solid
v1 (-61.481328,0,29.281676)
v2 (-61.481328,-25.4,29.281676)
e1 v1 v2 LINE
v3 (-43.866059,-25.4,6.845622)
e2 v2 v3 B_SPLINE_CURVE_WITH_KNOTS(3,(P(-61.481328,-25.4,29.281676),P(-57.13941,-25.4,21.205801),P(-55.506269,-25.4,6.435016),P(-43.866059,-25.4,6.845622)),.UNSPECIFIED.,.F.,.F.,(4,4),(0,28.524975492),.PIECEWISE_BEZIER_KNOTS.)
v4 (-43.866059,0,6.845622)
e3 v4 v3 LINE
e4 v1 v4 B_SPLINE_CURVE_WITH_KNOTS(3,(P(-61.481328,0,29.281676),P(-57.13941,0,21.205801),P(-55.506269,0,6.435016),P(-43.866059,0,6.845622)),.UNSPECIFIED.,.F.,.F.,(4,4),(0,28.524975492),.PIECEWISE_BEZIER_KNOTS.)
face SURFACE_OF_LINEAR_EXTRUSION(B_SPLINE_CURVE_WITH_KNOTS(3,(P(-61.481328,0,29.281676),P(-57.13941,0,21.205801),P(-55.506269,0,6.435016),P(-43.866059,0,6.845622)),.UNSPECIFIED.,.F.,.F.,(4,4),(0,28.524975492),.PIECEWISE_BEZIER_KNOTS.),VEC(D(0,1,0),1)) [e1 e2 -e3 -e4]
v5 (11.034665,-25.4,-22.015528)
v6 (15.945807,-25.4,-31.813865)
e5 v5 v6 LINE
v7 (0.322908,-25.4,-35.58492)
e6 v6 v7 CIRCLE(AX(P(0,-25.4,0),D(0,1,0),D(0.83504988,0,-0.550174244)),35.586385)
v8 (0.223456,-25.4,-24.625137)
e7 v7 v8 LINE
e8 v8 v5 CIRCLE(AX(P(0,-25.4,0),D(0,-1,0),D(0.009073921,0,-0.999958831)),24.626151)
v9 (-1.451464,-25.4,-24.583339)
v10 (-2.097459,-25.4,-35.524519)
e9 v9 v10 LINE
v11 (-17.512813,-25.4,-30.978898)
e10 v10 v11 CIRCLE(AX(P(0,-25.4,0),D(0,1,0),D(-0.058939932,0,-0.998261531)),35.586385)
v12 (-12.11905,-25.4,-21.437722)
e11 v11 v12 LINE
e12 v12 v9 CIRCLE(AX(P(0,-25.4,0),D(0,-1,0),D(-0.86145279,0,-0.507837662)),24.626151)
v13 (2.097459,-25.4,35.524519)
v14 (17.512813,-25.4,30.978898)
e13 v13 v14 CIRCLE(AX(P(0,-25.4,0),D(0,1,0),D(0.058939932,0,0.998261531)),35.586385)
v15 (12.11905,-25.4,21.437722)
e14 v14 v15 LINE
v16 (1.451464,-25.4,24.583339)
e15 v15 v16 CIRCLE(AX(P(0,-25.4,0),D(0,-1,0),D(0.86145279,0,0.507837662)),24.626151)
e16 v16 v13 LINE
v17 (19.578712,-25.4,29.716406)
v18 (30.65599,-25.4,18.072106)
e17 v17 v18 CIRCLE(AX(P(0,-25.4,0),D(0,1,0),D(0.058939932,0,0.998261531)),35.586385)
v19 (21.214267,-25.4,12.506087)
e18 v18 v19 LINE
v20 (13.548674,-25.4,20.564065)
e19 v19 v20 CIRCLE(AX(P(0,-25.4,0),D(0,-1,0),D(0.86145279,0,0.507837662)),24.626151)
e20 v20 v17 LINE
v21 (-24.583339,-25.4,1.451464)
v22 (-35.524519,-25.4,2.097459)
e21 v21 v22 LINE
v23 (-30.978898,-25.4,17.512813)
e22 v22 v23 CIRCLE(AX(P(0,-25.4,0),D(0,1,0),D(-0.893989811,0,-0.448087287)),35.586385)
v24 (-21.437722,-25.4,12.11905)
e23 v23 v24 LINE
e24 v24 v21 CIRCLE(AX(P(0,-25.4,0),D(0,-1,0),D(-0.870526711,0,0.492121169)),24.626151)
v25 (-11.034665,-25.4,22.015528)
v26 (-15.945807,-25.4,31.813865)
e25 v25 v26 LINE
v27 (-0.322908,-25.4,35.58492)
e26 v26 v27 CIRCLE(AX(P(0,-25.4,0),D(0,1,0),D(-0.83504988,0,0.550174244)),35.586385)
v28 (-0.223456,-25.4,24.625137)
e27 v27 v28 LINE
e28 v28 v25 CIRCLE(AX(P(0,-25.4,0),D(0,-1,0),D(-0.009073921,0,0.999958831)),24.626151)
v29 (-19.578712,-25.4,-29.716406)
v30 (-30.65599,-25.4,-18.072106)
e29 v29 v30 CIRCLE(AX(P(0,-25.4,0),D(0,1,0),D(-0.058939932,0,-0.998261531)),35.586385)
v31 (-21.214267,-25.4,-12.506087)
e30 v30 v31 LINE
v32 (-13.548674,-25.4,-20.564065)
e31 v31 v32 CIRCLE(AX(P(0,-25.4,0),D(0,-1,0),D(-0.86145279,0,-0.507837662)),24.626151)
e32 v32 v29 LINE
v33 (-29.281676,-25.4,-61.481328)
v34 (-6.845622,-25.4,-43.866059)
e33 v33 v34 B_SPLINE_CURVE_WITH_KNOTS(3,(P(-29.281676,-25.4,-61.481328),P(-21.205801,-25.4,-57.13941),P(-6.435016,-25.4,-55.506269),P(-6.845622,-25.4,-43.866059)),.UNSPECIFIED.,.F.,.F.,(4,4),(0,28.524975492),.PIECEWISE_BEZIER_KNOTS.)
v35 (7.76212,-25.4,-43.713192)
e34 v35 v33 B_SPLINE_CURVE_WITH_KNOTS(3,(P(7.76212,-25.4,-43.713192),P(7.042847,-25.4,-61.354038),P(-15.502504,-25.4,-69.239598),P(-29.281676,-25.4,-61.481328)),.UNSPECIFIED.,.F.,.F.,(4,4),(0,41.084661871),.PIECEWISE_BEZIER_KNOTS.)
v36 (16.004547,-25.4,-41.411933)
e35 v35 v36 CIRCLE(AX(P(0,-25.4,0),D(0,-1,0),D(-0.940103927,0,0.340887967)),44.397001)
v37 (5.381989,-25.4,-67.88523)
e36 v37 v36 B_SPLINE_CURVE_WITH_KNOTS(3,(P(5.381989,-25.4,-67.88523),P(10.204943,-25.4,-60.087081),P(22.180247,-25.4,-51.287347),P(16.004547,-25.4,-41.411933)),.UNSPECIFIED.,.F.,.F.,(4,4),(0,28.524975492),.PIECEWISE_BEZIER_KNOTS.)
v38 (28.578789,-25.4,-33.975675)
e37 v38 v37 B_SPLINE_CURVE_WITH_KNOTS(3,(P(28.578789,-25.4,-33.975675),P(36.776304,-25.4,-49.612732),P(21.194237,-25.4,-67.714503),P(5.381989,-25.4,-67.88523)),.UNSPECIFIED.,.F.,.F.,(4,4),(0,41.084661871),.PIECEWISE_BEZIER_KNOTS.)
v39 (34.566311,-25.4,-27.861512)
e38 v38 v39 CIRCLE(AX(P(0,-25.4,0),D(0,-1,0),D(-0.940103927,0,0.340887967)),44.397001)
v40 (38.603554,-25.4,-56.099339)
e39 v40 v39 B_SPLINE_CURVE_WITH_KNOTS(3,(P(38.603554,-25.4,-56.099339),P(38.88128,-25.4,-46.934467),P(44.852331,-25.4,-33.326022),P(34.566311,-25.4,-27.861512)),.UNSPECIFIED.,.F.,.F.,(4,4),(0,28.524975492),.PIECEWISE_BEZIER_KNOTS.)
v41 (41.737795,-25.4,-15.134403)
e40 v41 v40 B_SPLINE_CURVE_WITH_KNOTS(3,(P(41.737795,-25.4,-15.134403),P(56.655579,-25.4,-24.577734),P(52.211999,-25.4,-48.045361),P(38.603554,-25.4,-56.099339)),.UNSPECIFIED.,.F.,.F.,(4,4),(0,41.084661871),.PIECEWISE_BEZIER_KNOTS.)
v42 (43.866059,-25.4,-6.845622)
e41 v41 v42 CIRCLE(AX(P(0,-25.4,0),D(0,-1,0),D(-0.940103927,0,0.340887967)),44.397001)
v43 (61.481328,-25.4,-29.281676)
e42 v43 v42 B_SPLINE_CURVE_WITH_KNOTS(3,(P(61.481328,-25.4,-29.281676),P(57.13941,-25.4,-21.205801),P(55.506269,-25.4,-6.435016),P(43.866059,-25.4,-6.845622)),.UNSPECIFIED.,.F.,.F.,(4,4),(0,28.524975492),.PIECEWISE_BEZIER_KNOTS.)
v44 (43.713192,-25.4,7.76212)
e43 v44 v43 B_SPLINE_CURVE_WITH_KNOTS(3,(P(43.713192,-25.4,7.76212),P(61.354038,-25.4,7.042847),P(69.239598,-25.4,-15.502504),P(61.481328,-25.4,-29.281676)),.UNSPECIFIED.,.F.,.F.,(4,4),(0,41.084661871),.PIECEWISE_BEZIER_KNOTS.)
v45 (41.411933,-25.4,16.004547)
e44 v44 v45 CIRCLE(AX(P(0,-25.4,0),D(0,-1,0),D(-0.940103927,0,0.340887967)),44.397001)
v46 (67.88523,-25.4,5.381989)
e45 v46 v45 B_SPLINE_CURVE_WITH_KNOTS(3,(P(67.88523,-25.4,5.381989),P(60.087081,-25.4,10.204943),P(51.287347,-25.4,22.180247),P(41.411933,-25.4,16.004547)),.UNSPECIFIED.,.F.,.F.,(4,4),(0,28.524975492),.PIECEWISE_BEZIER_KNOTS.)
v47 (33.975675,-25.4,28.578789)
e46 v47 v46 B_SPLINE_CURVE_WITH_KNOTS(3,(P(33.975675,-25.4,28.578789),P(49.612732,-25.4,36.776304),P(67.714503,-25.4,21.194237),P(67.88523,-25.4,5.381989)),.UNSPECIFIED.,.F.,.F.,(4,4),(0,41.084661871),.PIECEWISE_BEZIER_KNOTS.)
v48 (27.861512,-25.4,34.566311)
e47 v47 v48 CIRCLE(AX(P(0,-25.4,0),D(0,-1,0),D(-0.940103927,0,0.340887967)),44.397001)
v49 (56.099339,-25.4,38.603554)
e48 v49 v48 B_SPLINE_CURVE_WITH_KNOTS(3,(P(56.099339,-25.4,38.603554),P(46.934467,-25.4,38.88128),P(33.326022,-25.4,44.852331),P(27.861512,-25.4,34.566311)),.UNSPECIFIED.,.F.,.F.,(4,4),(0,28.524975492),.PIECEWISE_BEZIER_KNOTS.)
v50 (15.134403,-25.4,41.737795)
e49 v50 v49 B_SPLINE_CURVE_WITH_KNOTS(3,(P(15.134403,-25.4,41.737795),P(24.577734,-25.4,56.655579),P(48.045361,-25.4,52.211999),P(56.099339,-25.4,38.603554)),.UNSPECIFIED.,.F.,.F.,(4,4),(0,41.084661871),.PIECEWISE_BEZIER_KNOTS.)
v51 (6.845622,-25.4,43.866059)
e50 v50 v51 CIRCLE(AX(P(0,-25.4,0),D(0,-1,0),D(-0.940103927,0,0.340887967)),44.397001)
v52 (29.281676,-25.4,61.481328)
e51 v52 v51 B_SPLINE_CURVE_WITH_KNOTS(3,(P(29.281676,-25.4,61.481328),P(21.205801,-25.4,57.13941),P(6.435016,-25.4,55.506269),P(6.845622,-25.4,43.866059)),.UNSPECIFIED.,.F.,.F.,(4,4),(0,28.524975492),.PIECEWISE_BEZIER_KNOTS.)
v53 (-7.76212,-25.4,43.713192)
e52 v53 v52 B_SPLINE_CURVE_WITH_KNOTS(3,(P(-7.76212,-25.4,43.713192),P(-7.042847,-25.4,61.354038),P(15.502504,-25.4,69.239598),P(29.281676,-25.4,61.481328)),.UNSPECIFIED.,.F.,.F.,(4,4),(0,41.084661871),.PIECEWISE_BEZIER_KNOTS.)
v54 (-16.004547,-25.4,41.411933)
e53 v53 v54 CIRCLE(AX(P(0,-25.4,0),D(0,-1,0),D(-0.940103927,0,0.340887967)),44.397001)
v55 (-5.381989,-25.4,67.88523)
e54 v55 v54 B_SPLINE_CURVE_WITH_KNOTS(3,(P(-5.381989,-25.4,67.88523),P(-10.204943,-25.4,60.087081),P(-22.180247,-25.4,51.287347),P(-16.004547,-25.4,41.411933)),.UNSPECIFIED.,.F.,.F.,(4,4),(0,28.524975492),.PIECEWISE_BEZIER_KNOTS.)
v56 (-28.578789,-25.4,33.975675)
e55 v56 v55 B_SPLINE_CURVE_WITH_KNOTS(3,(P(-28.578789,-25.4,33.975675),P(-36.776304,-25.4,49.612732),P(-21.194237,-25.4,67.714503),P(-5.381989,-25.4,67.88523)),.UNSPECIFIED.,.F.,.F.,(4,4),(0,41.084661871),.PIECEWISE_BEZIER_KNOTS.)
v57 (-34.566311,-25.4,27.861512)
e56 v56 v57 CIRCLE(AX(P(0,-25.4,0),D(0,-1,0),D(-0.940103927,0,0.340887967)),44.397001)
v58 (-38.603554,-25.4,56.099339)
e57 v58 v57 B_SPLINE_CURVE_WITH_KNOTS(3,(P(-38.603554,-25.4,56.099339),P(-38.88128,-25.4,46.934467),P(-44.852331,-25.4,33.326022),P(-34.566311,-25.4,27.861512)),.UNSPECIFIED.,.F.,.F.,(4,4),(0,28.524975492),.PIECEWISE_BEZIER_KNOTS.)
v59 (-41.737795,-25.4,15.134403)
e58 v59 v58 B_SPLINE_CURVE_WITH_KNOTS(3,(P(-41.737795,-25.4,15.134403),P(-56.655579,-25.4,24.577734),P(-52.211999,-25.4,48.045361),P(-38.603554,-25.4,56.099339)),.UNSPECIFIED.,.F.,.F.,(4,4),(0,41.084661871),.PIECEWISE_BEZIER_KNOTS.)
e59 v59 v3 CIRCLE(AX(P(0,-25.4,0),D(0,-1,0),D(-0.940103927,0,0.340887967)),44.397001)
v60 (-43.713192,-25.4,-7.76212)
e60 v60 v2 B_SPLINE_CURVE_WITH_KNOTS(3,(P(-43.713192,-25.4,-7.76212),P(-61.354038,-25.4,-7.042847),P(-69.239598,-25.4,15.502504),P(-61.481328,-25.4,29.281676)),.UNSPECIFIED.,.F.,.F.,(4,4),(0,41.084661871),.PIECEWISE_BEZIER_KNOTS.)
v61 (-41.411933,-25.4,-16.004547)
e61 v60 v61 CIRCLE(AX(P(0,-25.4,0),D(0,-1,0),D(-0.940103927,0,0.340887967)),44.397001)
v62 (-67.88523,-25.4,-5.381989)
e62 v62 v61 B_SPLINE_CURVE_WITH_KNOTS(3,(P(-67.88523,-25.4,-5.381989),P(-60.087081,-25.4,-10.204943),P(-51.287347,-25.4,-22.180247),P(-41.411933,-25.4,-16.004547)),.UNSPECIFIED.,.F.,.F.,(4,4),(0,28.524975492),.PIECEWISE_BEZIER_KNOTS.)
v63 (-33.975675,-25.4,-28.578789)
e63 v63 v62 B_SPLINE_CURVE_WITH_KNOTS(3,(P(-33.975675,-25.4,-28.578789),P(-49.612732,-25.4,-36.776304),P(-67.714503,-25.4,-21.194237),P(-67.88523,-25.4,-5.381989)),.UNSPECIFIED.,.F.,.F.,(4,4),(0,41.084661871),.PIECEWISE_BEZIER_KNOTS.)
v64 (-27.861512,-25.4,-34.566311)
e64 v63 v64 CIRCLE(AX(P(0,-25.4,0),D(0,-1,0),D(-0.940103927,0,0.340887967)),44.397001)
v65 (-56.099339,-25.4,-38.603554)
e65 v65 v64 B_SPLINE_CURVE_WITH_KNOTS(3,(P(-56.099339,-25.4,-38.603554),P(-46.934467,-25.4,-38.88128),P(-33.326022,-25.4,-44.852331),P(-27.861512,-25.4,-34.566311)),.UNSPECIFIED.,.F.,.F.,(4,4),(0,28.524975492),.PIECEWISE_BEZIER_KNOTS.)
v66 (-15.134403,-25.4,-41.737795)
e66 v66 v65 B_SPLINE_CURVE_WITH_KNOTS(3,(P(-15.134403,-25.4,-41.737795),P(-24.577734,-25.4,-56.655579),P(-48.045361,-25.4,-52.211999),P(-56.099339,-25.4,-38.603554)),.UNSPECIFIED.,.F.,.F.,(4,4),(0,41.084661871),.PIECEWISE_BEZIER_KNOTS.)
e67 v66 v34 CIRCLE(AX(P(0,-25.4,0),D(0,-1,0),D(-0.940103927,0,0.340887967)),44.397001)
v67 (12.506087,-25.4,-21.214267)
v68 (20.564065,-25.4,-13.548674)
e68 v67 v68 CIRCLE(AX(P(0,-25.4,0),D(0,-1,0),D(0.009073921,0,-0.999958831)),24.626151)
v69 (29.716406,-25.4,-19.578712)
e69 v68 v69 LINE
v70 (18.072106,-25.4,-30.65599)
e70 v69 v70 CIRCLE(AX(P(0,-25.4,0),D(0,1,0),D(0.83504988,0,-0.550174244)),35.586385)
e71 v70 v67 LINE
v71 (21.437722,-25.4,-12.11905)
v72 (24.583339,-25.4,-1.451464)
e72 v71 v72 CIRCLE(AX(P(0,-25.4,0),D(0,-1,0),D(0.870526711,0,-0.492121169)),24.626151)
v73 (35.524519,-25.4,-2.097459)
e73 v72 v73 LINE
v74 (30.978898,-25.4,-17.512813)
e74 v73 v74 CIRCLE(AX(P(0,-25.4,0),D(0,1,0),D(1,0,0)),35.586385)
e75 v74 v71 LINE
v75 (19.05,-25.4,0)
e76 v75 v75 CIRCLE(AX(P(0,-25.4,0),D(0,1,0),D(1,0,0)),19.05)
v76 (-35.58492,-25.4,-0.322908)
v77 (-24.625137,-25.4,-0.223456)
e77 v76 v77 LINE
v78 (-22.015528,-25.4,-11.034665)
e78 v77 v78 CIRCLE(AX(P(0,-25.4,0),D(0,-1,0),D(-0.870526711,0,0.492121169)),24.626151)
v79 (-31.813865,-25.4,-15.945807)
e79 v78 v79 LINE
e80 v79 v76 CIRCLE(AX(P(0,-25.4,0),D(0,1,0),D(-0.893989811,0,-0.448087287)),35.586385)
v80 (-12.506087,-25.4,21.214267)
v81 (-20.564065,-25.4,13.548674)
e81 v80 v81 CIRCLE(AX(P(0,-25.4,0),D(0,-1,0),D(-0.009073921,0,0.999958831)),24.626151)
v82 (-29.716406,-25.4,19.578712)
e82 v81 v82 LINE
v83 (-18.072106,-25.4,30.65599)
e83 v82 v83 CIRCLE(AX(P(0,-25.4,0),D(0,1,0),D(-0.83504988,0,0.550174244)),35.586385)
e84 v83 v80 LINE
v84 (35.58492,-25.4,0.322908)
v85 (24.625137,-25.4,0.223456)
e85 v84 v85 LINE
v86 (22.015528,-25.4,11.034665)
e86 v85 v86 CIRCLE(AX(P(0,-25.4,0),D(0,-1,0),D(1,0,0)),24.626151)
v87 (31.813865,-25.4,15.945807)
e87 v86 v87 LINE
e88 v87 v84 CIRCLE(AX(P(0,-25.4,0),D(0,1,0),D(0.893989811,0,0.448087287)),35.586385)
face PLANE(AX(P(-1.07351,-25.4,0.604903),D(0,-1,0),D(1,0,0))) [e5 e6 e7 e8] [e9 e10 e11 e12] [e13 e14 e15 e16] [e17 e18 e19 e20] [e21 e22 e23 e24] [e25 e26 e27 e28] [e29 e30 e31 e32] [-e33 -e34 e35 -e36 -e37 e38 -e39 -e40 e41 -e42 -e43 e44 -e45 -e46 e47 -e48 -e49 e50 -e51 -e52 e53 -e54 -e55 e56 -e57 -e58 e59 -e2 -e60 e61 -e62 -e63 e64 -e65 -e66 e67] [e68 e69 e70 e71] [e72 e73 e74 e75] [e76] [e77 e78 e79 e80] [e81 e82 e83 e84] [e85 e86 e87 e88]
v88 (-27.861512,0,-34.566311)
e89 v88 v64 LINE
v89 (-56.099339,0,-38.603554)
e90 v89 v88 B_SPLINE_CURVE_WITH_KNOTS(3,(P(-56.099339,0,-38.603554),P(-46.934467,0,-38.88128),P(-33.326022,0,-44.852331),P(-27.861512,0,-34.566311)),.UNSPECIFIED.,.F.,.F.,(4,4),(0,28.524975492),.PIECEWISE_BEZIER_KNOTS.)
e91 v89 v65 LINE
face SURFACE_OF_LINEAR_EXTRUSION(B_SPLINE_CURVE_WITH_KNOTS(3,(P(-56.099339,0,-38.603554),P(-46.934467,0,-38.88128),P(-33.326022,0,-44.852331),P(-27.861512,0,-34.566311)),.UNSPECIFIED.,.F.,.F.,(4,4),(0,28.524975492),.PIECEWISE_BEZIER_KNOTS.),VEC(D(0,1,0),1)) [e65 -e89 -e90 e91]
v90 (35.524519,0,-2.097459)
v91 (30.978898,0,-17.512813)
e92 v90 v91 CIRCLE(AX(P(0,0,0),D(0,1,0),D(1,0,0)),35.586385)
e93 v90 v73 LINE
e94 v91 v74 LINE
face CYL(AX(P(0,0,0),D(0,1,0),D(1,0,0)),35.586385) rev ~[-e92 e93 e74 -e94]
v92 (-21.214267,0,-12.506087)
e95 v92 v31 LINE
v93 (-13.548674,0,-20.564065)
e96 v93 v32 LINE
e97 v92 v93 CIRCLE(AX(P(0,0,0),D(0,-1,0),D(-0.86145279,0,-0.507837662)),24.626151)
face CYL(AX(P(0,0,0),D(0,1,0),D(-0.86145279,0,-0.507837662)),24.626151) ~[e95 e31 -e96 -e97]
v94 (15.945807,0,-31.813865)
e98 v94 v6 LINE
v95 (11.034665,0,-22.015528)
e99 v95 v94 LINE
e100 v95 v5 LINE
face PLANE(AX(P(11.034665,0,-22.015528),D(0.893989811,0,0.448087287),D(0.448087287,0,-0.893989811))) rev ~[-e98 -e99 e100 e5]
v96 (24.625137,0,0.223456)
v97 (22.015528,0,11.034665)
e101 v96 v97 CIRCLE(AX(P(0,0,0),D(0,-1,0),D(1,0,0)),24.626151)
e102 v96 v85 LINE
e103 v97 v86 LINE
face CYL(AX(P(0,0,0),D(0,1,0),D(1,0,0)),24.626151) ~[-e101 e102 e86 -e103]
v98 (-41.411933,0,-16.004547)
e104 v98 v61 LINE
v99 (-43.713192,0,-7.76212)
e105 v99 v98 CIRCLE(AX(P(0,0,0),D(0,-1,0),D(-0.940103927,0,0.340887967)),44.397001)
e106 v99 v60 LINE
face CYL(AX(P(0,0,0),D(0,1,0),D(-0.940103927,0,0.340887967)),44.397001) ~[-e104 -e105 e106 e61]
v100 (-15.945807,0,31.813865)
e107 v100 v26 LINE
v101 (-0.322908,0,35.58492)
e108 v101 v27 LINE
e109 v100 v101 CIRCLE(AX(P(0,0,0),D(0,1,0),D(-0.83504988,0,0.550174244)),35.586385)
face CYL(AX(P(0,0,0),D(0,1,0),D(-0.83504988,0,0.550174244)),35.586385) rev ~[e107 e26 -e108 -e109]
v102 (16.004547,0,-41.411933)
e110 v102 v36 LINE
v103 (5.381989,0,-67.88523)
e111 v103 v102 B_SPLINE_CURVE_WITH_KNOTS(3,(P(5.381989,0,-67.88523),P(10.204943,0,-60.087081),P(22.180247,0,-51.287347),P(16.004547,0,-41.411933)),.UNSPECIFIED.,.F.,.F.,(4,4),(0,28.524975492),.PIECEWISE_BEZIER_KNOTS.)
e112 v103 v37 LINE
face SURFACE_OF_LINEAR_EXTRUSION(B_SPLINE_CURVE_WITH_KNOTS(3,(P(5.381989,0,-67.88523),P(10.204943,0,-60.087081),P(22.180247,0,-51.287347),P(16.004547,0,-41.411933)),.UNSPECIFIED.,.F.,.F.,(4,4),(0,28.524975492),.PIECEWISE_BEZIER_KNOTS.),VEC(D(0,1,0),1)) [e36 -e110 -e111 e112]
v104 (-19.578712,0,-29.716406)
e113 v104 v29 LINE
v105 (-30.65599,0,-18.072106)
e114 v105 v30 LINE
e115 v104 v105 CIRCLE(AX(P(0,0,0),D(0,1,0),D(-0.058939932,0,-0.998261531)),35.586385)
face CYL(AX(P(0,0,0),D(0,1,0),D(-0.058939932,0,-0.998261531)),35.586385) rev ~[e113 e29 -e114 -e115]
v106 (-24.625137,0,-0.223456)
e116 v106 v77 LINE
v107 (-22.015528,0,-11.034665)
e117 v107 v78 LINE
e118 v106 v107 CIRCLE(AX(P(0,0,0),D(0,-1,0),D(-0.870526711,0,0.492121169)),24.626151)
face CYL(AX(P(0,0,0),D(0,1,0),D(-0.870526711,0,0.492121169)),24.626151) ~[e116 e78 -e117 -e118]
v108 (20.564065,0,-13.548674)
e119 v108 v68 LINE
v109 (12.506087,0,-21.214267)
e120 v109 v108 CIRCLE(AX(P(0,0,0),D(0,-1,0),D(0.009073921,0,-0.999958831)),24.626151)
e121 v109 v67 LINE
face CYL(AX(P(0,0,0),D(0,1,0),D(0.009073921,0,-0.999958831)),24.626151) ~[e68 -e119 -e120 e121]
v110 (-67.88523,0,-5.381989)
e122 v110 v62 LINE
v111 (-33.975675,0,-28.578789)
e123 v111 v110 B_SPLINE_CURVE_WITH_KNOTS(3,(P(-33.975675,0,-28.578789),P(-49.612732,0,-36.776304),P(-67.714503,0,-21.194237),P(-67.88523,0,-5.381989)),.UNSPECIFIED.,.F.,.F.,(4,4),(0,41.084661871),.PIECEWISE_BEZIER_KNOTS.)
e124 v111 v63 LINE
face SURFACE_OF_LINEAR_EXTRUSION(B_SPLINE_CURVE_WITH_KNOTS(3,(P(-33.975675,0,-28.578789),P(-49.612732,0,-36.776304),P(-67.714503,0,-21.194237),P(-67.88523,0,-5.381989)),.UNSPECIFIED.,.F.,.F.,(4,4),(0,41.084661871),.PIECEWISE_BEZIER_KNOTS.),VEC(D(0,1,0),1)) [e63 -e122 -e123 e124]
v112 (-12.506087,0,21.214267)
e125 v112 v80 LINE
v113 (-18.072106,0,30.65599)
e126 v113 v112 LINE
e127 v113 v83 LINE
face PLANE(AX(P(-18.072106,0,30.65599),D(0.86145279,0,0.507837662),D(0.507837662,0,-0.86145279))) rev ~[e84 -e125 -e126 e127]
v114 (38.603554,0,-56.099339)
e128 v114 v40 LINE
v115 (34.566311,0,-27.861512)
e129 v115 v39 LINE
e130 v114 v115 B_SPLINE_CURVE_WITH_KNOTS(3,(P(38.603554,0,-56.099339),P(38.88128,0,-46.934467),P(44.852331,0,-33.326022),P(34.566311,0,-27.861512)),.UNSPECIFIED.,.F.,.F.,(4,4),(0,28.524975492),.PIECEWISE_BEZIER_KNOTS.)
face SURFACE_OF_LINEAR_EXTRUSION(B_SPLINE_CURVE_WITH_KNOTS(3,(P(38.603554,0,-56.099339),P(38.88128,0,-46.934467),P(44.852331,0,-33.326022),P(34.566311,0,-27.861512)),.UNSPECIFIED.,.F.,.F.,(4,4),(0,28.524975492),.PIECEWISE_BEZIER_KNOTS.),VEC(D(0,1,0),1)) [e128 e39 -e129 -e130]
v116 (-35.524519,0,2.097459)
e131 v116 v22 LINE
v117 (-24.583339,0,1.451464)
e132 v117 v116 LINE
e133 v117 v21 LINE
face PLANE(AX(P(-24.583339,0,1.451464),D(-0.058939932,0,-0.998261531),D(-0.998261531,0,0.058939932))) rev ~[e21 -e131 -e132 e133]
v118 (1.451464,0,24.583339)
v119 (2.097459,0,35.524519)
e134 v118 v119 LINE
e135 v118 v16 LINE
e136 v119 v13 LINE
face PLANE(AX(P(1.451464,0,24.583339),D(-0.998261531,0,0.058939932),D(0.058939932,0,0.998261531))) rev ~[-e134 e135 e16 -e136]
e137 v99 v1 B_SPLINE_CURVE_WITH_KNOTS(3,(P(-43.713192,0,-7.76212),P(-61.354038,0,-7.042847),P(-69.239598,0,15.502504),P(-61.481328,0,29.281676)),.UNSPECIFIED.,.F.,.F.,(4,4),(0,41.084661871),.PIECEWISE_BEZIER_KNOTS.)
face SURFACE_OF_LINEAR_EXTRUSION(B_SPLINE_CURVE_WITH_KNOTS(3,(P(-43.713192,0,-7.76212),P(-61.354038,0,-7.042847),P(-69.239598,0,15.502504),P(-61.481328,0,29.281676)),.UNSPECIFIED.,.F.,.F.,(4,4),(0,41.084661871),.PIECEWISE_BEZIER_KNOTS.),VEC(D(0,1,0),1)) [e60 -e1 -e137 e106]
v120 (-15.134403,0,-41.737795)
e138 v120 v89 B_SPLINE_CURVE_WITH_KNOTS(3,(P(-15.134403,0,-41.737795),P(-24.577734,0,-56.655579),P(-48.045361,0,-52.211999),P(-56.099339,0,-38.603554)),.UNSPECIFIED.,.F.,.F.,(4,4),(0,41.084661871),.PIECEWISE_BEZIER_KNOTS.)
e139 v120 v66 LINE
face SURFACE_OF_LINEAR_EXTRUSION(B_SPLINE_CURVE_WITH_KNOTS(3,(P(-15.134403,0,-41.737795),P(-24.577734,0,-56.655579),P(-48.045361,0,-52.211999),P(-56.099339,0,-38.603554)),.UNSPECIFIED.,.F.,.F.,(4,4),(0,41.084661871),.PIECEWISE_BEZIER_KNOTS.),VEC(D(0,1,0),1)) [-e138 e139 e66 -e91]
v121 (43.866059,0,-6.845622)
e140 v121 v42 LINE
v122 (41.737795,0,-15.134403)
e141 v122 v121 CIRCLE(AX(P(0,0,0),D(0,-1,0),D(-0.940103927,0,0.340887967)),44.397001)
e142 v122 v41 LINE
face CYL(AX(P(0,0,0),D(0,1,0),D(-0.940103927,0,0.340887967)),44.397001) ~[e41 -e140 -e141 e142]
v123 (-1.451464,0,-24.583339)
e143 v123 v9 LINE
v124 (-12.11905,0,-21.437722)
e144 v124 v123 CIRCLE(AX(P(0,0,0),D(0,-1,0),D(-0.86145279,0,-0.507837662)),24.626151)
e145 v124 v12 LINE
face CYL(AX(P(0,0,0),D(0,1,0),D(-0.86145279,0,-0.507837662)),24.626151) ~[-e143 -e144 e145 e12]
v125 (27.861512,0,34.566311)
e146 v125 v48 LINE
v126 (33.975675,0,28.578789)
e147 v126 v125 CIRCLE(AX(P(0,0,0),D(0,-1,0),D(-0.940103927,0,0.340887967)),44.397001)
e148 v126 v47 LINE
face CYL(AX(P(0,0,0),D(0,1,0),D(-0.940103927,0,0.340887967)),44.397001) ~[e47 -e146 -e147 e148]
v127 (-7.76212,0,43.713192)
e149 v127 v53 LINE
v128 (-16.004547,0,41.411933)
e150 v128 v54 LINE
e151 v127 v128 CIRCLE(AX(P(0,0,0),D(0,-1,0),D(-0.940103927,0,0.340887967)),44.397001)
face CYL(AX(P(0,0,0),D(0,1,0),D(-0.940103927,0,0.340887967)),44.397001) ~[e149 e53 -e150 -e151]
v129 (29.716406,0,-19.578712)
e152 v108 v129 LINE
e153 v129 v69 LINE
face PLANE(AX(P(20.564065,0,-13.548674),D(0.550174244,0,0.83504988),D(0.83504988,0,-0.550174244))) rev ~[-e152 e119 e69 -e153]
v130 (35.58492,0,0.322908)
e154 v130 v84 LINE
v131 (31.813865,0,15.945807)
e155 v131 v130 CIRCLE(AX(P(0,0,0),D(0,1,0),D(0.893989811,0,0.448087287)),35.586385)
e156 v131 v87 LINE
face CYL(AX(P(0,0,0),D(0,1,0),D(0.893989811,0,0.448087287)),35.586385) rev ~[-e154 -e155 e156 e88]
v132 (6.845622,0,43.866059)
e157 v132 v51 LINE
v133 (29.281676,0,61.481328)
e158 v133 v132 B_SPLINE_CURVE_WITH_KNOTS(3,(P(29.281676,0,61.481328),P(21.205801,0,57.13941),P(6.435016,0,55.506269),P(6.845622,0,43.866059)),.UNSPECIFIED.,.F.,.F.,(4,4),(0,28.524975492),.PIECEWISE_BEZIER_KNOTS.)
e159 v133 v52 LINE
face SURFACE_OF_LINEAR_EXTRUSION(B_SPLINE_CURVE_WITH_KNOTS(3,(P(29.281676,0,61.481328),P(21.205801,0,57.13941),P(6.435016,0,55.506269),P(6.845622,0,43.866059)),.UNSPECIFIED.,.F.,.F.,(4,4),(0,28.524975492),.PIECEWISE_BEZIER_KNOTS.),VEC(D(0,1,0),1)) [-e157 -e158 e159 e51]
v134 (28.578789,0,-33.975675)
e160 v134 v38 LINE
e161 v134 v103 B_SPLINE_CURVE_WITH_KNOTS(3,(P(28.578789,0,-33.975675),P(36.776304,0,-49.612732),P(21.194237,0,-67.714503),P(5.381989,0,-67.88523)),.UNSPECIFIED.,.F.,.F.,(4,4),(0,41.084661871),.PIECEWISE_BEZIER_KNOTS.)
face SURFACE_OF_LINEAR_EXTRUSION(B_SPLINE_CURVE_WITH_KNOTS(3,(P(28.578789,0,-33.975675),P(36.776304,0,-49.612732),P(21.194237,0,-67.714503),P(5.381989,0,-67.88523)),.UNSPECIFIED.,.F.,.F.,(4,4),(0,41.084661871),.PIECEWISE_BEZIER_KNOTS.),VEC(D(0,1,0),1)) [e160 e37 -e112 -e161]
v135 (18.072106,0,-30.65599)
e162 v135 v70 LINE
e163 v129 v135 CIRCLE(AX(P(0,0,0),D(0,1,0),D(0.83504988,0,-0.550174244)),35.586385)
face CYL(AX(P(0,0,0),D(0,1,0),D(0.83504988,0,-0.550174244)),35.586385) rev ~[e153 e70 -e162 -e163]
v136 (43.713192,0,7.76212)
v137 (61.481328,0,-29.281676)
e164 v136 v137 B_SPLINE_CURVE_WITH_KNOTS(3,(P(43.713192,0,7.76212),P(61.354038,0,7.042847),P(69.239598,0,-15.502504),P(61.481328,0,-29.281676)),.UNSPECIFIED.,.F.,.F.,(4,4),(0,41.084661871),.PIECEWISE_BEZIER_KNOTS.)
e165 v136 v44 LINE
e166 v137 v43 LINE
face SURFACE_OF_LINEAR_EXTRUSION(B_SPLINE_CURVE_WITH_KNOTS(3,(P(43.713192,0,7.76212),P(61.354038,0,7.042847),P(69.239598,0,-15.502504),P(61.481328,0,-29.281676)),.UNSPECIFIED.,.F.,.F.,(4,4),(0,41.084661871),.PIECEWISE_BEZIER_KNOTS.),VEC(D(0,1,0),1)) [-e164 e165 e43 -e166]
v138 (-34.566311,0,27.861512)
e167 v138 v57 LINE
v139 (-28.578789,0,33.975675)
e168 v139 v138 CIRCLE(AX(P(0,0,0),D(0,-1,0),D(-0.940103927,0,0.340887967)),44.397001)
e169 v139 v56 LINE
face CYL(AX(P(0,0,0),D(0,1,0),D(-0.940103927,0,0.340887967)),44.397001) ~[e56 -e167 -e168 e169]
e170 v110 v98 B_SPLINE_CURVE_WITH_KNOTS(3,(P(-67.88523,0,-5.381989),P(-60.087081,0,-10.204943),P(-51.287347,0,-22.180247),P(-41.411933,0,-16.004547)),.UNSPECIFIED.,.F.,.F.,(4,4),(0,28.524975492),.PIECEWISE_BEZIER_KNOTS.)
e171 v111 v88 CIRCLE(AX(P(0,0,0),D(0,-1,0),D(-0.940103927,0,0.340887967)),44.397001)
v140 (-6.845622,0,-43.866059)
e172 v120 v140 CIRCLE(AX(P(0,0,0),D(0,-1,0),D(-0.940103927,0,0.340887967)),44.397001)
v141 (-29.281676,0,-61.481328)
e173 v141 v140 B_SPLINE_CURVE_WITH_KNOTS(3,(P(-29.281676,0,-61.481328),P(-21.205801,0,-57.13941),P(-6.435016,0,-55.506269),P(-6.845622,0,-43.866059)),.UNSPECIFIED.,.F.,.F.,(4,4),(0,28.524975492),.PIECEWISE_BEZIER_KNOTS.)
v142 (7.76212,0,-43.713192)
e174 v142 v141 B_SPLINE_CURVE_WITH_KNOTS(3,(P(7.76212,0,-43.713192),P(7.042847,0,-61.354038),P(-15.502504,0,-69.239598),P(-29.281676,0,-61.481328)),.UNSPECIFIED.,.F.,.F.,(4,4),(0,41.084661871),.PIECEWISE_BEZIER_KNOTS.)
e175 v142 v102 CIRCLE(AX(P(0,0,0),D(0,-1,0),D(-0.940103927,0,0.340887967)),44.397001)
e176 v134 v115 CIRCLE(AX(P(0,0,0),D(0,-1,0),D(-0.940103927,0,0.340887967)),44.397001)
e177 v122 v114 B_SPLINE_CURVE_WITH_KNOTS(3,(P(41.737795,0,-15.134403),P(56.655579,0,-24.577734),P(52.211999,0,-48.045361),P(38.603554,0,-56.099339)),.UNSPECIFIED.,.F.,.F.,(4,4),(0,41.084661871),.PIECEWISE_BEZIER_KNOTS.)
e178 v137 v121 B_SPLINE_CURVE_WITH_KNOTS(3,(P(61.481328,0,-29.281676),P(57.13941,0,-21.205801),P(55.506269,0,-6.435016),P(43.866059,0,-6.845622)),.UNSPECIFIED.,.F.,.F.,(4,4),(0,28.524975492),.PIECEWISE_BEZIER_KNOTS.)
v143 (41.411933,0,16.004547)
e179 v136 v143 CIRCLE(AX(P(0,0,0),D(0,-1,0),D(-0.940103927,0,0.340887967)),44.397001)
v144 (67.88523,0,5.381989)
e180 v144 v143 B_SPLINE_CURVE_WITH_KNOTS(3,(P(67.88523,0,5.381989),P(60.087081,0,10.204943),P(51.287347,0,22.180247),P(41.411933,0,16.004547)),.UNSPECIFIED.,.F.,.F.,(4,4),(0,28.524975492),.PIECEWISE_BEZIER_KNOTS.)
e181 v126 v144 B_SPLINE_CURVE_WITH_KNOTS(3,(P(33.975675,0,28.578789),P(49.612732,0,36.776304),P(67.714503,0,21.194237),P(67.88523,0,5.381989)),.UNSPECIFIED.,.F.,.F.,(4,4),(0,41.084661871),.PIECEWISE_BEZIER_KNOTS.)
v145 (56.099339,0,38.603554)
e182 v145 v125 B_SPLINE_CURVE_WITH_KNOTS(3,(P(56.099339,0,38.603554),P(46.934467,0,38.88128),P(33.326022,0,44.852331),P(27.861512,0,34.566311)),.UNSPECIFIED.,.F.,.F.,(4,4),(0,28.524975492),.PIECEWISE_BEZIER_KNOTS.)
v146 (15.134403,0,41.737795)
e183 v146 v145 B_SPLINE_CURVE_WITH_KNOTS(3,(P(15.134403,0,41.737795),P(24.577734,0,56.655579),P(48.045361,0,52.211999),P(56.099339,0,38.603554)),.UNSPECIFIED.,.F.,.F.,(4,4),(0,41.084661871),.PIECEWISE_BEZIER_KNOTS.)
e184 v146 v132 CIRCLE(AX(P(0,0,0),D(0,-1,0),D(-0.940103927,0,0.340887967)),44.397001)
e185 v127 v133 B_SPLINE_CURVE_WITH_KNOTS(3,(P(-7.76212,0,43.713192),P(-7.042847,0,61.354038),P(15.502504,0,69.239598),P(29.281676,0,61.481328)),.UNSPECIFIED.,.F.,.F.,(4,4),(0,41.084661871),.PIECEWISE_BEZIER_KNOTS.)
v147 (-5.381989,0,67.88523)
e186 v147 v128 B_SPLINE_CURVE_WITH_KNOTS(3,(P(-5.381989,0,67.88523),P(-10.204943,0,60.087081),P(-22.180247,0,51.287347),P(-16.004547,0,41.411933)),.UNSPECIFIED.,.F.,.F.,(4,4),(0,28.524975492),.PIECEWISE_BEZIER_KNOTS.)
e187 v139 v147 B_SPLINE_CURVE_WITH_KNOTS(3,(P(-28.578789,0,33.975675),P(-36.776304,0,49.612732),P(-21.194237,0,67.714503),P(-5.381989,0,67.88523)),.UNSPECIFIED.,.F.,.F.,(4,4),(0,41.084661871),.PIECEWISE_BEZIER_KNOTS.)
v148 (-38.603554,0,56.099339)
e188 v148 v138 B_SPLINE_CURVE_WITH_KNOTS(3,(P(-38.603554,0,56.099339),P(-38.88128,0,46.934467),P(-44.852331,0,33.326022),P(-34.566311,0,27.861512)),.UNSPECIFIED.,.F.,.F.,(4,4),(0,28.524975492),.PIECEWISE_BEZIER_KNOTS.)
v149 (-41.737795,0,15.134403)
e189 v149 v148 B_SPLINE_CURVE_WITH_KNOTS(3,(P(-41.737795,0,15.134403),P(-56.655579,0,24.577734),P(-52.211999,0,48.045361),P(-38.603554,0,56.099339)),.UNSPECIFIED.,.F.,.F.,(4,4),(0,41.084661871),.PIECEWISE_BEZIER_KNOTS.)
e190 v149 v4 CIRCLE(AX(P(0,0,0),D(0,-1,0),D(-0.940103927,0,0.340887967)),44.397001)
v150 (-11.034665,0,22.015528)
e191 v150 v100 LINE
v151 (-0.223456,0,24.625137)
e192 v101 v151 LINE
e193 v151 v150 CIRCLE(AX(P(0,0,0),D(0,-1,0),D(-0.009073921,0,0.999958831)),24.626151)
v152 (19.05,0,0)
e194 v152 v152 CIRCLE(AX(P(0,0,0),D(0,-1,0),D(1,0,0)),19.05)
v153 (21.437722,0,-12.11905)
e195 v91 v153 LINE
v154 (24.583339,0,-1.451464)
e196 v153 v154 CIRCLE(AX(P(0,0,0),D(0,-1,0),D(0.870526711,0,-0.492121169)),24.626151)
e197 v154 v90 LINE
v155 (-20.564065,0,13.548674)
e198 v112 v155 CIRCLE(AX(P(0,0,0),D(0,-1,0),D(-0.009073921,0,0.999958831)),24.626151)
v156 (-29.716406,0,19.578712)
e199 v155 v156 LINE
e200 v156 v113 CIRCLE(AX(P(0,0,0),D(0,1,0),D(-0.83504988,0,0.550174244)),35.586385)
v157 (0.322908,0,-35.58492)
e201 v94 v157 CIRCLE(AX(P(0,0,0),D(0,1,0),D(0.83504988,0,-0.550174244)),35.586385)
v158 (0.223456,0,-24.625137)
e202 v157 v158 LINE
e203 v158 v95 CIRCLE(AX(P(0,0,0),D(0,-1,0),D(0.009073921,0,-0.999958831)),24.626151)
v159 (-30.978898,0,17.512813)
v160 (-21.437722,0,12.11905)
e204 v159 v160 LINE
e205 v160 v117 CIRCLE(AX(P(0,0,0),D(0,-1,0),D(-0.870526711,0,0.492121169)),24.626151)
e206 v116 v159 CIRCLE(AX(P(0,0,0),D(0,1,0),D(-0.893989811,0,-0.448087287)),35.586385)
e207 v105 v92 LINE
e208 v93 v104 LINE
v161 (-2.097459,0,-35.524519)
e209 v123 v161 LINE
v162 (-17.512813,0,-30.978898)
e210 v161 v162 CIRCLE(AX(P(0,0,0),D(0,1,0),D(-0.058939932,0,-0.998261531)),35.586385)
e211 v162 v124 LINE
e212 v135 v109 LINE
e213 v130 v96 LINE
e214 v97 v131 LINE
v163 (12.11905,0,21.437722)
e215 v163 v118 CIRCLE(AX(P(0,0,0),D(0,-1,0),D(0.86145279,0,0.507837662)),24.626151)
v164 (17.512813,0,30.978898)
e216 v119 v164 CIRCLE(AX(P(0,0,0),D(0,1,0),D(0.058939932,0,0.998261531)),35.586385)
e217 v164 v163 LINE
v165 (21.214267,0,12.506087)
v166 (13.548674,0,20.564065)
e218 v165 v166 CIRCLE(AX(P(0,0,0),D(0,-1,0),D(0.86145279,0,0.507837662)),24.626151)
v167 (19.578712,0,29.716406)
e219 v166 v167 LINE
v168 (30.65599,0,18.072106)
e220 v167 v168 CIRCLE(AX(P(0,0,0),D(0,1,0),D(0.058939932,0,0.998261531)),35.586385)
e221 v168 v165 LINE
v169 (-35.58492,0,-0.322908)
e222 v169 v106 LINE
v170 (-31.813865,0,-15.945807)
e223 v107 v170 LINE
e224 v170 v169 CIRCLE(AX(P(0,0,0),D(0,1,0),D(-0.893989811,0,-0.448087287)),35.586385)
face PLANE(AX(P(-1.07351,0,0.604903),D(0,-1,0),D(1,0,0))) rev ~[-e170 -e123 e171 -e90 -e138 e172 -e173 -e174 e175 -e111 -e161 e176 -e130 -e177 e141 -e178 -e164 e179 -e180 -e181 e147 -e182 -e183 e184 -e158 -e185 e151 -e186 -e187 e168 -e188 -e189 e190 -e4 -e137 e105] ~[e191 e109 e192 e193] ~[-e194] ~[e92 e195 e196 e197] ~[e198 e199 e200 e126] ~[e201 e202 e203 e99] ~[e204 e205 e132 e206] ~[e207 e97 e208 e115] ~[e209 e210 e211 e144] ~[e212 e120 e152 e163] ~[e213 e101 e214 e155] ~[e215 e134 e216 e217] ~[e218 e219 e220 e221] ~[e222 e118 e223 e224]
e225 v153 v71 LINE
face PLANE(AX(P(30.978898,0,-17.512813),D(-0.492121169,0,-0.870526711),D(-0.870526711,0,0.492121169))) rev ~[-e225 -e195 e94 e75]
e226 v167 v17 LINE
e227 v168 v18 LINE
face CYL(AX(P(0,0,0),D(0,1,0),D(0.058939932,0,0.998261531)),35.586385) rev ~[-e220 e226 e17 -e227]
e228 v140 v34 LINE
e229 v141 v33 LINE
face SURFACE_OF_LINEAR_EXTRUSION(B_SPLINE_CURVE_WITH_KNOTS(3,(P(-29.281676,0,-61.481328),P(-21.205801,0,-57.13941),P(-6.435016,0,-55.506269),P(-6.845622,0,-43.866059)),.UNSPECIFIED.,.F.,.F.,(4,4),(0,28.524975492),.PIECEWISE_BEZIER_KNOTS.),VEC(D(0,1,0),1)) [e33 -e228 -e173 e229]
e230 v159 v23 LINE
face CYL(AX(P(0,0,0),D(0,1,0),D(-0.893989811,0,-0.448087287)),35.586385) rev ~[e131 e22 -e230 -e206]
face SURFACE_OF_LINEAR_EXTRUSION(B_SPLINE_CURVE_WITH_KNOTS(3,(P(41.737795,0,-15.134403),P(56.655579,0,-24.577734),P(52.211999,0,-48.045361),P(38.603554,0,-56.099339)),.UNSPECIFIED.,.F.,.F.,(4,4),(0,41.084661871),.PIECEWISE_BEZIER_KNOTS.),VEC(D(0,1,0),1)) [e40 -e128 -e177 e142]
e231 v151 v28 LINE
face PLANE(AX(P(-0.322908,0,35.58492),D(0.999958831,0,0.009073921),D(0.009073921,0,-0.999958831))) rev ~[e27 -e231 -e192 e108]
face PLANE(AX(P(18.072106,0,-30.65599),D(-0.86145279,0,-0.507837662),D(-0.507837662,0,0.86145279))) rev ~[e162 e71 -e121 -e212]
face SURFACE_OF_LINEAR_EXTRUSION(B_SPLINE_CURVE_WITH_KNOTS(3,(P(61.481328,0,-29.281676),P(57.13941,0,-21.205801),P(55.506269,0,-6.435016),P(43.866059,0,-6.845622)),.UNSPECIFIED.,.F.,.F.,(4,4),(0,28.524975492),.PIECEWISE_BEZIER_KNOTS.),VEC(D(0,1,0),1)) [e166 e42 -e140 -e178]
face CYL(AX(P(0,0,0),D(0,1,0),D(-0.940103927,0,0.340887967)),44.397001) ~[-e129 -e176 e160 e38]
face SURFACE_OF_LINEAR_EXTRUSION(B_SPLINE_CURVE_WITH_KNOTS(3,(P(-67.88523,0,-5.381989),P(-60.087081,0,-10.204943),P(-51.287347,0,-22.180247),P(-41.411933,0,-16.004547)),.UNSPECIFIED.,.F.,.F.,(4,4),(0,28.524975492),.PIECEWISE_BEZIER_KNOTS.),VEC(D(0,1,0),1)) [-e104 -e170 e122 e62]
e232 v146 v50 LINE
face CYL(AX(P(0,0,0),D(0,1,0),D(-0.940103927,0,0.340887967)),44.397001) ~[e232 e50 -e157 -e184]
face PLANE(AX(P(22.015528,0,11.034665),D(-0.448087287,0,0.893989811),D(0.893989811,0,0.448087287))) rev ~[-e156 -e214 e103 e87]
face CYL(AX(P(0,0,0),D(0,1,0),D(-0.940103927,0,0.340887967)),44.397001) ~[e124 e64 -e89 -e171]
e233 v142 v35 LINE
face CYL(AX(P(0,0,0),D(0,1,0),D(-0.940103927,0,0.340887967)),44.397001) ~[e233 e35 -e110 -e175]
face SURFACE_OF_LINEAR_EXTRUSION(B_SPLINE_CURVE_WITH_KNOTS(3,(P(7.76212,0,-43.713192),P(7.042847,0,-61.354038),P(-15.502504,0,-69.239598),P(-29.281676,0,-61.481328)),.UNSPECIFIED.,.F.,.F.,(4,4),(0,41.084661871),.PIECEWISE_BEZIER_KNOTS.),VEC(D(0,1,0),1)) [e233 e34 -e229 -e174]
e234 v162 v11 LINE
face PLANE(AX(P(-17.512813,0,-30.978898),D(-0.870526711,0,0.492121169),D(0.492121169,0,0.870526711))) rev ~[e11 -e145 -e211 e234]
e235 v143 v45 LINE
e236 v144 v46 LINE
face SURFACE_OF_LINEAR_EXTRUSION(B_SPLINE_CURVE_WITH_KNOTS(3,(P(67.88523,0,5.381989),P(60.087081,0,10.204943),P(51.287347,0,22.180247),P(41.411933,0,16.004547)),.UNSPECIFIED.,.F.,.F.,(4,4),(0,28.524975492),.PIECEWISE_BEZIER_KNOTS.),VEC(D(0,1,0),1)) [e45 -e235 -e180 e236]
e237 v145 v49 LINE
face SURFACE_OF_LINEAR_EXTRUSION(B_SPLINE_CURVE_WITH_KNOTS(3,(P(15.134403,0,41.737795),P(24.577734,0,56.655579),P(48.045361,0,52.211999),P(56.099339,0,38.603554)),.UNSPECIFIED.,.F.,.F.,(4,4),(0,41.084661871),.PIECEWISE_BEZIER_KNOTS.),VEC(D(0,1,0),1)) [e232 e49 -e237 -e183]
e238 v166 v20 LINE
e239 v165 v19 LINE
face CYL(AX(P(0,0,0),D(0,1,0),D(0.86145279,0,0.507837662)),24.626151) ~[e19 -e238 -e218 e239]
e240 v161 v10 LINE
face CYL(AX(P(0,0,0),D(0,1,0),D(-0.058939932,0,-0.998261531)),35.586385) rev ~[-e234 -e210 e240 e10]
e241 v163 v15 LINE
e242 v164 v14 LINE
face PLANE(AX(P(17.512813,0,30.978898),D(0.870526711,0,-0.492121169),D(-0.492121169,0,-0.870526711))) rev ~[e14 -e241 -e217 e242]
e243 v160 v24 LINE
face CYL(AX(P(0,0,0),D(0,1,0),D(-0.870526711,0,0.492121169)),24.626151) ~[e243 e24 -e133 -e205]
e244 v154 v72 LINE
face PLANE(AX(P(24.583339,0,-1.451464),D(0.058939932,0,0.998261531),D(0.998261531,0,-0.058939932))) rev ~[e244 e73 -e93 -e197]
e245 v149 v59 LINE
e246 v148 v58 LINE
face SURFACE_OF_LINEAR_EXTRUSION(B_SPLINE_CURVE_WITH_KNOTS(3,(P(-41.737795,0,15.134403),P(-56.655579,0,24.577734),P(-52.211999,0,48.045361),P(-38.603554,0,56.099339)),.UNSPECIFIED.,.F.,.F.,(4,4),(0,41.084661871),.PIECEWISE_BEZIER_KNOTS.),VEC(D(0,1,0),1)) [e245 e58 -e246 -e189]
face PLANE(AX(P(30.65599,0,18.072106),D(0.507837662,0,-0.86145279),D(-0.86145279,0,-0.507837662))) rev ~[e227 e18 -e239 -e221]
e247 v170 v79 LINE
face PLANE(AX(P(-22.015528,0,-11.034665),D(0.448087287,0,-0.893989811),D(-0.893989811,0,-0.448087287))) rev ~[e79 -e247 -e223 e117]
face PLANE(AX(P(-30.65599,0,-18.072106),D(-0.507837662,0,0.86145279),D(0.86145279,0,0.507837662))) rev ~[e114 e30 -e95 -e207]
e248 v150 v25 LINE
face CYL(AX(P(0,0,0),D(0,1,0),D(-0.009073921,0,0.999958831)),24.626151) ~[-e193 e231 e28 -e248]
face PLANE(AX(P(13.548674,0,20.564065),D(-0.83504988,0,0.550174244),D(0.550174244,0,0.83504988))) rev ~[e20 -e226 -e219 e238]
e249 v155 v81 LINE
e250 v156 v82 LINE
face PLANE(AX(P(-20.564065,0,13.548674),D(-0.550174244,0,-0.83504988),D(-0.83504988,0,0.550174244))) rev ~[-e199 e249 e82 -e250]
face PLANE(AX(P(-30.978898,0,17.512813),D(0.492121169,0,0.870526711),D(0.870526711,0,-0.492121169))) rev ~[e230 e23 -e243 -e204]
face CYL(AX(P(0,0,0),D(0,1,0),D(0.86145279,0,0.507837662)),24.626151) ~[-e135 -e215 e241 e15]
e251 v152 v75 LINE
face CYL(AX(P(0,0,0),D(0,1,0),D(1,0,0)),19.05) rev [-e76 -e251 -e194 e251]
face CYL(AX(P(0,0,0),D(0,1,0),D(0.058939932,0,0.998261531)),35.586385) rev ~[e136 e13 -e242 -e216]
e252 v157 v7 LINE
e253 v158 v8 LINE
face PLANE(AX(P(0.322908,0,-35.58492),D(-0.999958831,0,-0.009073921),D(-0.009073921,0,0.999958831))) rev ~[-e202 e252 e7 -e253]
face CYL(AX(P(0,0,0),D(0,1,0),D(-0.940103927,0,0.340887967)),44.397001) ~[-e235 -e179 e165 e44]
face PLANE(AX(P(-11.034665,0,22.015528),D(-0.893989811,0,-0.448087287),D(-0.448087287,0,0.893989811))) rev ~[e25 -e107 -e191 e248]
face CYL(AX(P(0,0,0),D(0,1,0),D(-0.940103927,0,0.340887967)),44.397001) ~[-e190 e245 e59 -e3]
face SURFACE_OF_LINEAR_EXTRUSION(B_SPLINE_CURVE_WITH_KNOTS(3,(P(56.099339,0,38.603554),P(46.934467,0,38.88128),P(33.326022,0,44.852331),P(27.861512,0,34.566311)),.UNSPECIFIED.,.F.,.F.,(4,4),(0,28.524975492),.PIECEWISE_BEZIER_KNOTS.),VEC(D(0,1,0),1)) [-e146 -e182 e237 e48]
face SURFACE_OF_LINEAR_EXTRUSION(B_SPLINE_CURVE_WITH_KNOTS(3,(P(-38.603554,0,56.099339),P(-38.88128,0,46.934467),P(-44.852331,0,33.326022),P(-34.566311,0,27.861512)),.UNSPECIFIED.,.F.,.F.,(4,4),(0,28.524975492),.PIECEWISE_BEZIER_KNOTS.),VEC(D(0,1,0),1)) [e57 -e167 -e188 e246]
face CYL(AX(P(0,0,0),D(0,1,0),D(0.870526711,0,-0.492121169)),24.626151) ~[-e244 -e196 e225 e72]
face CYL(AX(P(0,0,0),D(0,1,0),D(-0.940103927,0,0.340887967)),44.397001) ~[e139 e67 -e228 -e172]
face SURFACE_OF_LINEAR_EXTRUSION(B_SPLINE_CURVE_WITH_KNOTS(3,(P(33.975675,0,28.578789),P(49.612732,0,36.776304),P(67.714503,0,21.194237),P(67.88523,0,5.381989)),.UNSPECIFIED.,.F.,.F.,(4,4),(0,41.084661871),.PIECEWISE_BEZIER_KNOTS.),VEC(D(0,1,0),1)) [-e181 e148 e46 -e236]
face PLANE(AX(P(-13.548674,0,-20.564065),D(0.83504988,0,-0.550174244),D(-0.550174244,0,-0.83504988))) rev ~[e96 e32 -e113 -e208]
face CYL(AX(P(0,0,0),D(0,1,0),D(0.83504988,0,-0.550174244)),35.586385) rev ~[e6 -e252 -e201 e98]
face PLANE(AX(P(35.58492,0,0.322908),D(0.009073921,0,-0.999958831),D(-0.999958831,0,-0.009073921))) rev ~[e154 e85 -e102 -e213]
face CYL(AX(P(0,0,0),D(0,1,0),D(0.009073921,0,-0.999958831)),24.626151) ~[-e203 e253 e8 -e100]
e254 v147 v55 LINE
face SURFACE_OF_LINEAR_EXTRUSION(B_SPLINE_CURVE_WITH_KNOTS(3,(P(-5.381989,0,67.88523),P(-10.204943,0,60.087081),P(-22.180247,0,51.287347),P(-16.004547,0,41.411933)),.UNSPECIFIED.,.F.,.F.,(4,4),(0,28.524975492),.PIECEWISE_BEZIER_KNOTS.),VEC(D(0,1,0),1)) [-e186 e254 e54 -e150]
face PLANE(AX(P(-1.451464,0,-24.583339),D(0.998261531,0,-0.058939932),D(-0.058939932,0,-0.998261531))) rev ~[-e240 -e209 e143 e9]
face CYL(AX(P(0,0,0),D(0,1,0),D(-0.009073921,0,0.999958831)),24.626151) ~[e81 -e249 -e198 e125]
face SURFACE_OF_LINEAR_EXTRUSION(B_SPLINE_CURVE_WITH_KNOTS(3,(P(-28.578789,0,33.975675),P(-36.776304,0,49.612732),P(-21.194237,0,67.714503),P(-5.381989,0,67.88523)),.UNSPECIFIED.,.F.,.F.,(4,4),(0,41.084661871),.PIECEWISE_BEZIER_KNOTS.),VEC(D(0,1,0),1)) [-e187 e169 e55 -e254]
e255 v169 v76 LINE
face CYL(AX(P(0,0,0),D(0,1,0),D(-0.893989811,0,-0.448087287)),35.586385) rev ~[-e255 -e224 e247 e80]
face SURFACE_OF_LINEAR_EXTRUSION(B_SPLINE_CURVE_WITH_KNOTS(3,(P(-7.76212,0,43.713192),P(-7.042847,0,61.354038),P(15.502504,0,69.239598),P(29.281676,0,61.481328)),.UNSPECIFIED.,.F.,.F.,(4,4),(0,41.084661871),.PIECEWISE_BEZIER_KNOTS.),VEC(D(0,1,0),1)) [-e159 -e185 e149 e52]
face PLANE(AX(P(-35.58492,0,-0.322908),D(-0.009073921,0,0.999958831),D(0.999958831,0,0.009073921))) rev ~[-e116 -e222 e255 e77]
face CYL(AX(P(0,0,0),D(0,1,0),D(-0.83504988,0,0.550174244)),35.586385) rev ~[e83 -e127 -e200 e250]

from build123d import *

# Parameters (mm, degrees)
F0_R     = 19.05
F1_DEPTH = 25.4
F3_COUNT = 12


with BuildPart() as f1:
    # F0 (on Front) → F1 (new body)
    with BuildSketch(Plane.XZ):
        with BuildLine():
            ThreePointArc((-41.7377949639, 15.1344033998), (-7.6831234343, -43.7271461338), (44.3970009653, 0))
            ThreePointArc((44.3970009653, 0), (14.7724939885, 41.8672558938), (-34.5663108784, 27.8615119291))
            ThreePointArc((-34.5663108784, 27.8615119291), (-38.6791153593, 21.7949473443), (-41.7377949639, 15.1344033998))
        make_face()
        with BuildLine():
            ThreePointArc((30.6559904103, 18.0721064124), (31.253015986, 17.0188063622), (31.8138653762, 15.9458065975))
            ThreePointArc((31.8138653762, 15.9458065975), (34.6304146039, 8.1929947261), (35.5863847309, 0))
            ThreePointArc((35.5863847309, 0), (34.4152420977, -9.0543851018), (30.9788984582, -17.5128132673))
            ThreePointArc((30.9788984582, -17.5128132673), (30.3652266448, -18.5565026077), (29.7164062853, -19.5787123096))
            ThreePointArc((29.7164062853, -19.5787123096), (17.0188063622, -31.253015986), (0.3229080478, -35.5849196797))
            ThreePointArc((0.3229080478, -35.5849196797), (-0.8877893412, -35.5753089699), (-2.0974590909, -35.5245189071))
            ThreePointArc((-2.0974590909, -35.5245189071), (-18.5565026077, -30.3652266448), (-30.6559904103, -18.0721064124))
            ThreePointArc((-30.6559904103, -18.0721064124), (-31.253015986, -17.0188063622), (-31.8138653762, -15.9458065975))
            ThreePointArc((-31.8138653762, -15.9458065975), (-35.5753089699, 0.8877893412), (-30.9788984582, 17.5128132673))
            ThreePointArc((-30.9788984582, 17.5128132673), (-30.3652266448, 18.5565026077), (-29.7164062853, 19.5787123096))
            ThreePointArc((-29.7164062853, 19.5787123096), (-17.0188063622, 31.253015986), (-0.3229080478, 35.5849196797))
            ThreePointArc((-0.3229080478, 35.5849196797), (0.8877893412, 35.5753089699), (2.0974590909, 35.5245189071))
            ThreePointArc((2.0974590909, 35.5245189071), (18.5565026077, 30.3652266448), (30.6559904103, 18.0721064124))
        make_face(mode=Mode.SUBTRACT)
        with BuildLine():
            ThreePointArc((-41.7377949639, 15.1344033998), (-38.6791153593, 21.7949473443), (-34.5663108784, 27.8615119291))
            add(Edge.make_bspline(
                [(-38.603553939, 56.0993393118), (-38.8812801549, 46.9344672316), (-44.8523311706, 33.3260222193), (-34.5663108784, 27.8615119291)],
                knots=[0, 0, 0, 0, 28.5249754922, 28.5249754922, 28.5249754922, 28.5249754922], degree=3))
            add(Edge.make_bspline(
                [(-41.7377949639, 15.1344033998), (-56.6555790407, 24.577734095), (-52.2119989513, 48.0453613593), (-38.603553939, 56.0993393118)],
                knots=[0, 0, 0, 0, 41.0846618713, 41.0846618713, 41.0846618713, 41.0846618713], degree=3))
        make_face()
        with BuildLine():
            Line((30.9788984582, -17.5128132673), (21.4377224413, -12.1190503432))
            ThreePointArc((21.4377224413, -12.1190503432), (21.0130551141, -12.8412943062), (20.5640646247, -13.5486741344))
            Line((20.5640646247, -13.5486741344), (29.7164062853, -19.5787123096))
            ThreePointArc((29.7164062853, -19.5787123096), (30.3652266448, -18.5565026077), (30.9788984582, -17.5128132673))
        make_face()
        with BuildLine():
            ThreePointArc((21.2142666876, 12.5060870618), (21.6274146437, 11.7771923869), (22.0155283003, 11.0346653029))
            Line((22.0155283003, 11.0346653029), (31.8138653762, 15.9458065975))
            ThreePointArc((31.8138653762, 15.9458065975), (31.253015986, 17.0188063622), (30.6559904103, 18.0721064124))
            Line((30.6559904103, 18.0721064124), (21.2142666876, 12.5060870618))
        make_face()
        with BuildLine():
            ThreePointArc((-0.2234557537, 24.625137405), (0.6143595296, 24.6184866931), (1.4514636756, 24.5833394373))
            Line((1.4514636756, 24.5833394373), (2.0974590909, 35.5245189071))
            ThreePointArc((2.0974590909, 35.5245189071), (0.8877893412, 35.5753089699), (-0.3229080478, 35.5849196797))
            Line((-0.3229080478, 35.5849196797), (-0.2234557537, 24.625137405))
        make_face()
        with BuildLine():
            ThreePointArc((-21.4377224413, 12.1190503432), (-21.0130551141, 12.8412943062), (-20.5640646247, 13.5486741344))
            Line((-20.5640646247, 13.5486741344), (-29.7164062853, 19.5787123096))
            ThreePointArc((-29.7164062853, 19.5787123096), (-30.3652266448, 18.5565026077), (-30.9788984582, 17.5128132673))
            Line((-30.9788984582, 17.5128132673), (-21.4377224413, 12.1190503432))
        make_face()
        with BuildLine():
            Line((-30.6559904103, -18.0721064124), (-21.2142666876, -12.5060870618))
            ThreePointArc((-21.2142666876, -12.5060870618), (-21.6274146437, -11.7771923869), (-22.0155283003, -11.0346653029))
            Line((-22.0155283003, -11.0346653029), (-31.8138653762, -15.9458065975))
            ThreePointArc((-31.8138653762, -15.9458065975), (-31.253015986, -17.0188063622), (-30.6559904103, -18.0721064124))
        make_face()
        with BuildLine():
            Line((0.3229080478, -35.5849196797), (0.2234557537, -24.625137405))
            ThreePointArc((0.2234557537, -24.625137405), (-0.6143595296, -24.6184866931), (-1.4514636756, -24.5833394373))
            Line((-1.4514636756, -24.5833394373), (-2.0974590909, -35.5245189071))
            ThreePointArc((-2.0974590909, -35.5245189071), (-0.8877893412, -35.5753089699), (0.3229080478, -35.5849196797))
        make_face()
        with BuildLine():
            ThreePointArc((21.4377224413, -12.1190503432), (23.8157082582, -6.2657293949), (24.6261512358, 0))
            ThreePointArc((24.6261512358, 0), (23.9646098878, 5.6696382261), (22.0155283003, 11.0346653029))
            ThreePointArc((22.0155283003, 11.0346653029), (21.6274146437, 11.7771923869), (21.2142666876, 12.5060870618))
            ThreePointArc((21.2142666876, 12.5060870618), (12.8412943062, 21.0130551141), (1.4514636756, 24.5833394373))
            ThreePointArc((1.4514636756, 24.5833394373), (0.6143595296, 24.6184866931), (-0.2234557537, 24.625137405))
            ThreePointArc((-0.2234557537, 24.625137405), (-11.7771923869, 21.6274146437), (-20.5640646247, 13.5486741344))
            ThreePointArc((-20.5640646247, 13.5486741344), (-21.0130551141, 12.8412943062), (-21.4377224413, 12.1190503432))
            ThreePointArc((-21.4377224413, 12.1190503432), (-24.6184866931, 0.6143595296), (-22.0155283003, -11.0346653029))
            ThreePointArc((-22.0155283003, -11.0346653029), (-21.6274146437, -11.7771923869), (-21.2142666876, -12.5060870618))
            ThreePointArc((-21.2142666876, -12.5060870618), (-12.8412943062, -21.0130551141), (-1.4514636756, -24.5833394373))
            ThreePointArc((-1.4514636756, -24.5833394373), (-0.6143595296, -24.6184866931), (0.2234557537, -24.625137405))
            ThreePointArc((0.2234557537, -24.625137405), (11.7771923869, -21.6274146437), (20.5640646247, -13.5486741344))
            ThreePointArc((20.5640646247, -13.5486741344), (21.0130551141, -12.8412943062), (21.4377224413, -12.1190503432))
        make_face()
        Circle(F0_R, mode=Mode.SUBTRACT)
    extrude(amount=F1_DEPTH)

    # F3: F1 ×12 about axis
    f3_axis = Axis((0, -7.1261581033, 0), (0, -1, 0))


with BuildPart() as f1_1:
    add(f1.part)
    for i in range(1, F3_COUNT):
        add(f1.part.rotate(f3_axis, i * 360 / F3_COUNT))


solid = f1_1.part
